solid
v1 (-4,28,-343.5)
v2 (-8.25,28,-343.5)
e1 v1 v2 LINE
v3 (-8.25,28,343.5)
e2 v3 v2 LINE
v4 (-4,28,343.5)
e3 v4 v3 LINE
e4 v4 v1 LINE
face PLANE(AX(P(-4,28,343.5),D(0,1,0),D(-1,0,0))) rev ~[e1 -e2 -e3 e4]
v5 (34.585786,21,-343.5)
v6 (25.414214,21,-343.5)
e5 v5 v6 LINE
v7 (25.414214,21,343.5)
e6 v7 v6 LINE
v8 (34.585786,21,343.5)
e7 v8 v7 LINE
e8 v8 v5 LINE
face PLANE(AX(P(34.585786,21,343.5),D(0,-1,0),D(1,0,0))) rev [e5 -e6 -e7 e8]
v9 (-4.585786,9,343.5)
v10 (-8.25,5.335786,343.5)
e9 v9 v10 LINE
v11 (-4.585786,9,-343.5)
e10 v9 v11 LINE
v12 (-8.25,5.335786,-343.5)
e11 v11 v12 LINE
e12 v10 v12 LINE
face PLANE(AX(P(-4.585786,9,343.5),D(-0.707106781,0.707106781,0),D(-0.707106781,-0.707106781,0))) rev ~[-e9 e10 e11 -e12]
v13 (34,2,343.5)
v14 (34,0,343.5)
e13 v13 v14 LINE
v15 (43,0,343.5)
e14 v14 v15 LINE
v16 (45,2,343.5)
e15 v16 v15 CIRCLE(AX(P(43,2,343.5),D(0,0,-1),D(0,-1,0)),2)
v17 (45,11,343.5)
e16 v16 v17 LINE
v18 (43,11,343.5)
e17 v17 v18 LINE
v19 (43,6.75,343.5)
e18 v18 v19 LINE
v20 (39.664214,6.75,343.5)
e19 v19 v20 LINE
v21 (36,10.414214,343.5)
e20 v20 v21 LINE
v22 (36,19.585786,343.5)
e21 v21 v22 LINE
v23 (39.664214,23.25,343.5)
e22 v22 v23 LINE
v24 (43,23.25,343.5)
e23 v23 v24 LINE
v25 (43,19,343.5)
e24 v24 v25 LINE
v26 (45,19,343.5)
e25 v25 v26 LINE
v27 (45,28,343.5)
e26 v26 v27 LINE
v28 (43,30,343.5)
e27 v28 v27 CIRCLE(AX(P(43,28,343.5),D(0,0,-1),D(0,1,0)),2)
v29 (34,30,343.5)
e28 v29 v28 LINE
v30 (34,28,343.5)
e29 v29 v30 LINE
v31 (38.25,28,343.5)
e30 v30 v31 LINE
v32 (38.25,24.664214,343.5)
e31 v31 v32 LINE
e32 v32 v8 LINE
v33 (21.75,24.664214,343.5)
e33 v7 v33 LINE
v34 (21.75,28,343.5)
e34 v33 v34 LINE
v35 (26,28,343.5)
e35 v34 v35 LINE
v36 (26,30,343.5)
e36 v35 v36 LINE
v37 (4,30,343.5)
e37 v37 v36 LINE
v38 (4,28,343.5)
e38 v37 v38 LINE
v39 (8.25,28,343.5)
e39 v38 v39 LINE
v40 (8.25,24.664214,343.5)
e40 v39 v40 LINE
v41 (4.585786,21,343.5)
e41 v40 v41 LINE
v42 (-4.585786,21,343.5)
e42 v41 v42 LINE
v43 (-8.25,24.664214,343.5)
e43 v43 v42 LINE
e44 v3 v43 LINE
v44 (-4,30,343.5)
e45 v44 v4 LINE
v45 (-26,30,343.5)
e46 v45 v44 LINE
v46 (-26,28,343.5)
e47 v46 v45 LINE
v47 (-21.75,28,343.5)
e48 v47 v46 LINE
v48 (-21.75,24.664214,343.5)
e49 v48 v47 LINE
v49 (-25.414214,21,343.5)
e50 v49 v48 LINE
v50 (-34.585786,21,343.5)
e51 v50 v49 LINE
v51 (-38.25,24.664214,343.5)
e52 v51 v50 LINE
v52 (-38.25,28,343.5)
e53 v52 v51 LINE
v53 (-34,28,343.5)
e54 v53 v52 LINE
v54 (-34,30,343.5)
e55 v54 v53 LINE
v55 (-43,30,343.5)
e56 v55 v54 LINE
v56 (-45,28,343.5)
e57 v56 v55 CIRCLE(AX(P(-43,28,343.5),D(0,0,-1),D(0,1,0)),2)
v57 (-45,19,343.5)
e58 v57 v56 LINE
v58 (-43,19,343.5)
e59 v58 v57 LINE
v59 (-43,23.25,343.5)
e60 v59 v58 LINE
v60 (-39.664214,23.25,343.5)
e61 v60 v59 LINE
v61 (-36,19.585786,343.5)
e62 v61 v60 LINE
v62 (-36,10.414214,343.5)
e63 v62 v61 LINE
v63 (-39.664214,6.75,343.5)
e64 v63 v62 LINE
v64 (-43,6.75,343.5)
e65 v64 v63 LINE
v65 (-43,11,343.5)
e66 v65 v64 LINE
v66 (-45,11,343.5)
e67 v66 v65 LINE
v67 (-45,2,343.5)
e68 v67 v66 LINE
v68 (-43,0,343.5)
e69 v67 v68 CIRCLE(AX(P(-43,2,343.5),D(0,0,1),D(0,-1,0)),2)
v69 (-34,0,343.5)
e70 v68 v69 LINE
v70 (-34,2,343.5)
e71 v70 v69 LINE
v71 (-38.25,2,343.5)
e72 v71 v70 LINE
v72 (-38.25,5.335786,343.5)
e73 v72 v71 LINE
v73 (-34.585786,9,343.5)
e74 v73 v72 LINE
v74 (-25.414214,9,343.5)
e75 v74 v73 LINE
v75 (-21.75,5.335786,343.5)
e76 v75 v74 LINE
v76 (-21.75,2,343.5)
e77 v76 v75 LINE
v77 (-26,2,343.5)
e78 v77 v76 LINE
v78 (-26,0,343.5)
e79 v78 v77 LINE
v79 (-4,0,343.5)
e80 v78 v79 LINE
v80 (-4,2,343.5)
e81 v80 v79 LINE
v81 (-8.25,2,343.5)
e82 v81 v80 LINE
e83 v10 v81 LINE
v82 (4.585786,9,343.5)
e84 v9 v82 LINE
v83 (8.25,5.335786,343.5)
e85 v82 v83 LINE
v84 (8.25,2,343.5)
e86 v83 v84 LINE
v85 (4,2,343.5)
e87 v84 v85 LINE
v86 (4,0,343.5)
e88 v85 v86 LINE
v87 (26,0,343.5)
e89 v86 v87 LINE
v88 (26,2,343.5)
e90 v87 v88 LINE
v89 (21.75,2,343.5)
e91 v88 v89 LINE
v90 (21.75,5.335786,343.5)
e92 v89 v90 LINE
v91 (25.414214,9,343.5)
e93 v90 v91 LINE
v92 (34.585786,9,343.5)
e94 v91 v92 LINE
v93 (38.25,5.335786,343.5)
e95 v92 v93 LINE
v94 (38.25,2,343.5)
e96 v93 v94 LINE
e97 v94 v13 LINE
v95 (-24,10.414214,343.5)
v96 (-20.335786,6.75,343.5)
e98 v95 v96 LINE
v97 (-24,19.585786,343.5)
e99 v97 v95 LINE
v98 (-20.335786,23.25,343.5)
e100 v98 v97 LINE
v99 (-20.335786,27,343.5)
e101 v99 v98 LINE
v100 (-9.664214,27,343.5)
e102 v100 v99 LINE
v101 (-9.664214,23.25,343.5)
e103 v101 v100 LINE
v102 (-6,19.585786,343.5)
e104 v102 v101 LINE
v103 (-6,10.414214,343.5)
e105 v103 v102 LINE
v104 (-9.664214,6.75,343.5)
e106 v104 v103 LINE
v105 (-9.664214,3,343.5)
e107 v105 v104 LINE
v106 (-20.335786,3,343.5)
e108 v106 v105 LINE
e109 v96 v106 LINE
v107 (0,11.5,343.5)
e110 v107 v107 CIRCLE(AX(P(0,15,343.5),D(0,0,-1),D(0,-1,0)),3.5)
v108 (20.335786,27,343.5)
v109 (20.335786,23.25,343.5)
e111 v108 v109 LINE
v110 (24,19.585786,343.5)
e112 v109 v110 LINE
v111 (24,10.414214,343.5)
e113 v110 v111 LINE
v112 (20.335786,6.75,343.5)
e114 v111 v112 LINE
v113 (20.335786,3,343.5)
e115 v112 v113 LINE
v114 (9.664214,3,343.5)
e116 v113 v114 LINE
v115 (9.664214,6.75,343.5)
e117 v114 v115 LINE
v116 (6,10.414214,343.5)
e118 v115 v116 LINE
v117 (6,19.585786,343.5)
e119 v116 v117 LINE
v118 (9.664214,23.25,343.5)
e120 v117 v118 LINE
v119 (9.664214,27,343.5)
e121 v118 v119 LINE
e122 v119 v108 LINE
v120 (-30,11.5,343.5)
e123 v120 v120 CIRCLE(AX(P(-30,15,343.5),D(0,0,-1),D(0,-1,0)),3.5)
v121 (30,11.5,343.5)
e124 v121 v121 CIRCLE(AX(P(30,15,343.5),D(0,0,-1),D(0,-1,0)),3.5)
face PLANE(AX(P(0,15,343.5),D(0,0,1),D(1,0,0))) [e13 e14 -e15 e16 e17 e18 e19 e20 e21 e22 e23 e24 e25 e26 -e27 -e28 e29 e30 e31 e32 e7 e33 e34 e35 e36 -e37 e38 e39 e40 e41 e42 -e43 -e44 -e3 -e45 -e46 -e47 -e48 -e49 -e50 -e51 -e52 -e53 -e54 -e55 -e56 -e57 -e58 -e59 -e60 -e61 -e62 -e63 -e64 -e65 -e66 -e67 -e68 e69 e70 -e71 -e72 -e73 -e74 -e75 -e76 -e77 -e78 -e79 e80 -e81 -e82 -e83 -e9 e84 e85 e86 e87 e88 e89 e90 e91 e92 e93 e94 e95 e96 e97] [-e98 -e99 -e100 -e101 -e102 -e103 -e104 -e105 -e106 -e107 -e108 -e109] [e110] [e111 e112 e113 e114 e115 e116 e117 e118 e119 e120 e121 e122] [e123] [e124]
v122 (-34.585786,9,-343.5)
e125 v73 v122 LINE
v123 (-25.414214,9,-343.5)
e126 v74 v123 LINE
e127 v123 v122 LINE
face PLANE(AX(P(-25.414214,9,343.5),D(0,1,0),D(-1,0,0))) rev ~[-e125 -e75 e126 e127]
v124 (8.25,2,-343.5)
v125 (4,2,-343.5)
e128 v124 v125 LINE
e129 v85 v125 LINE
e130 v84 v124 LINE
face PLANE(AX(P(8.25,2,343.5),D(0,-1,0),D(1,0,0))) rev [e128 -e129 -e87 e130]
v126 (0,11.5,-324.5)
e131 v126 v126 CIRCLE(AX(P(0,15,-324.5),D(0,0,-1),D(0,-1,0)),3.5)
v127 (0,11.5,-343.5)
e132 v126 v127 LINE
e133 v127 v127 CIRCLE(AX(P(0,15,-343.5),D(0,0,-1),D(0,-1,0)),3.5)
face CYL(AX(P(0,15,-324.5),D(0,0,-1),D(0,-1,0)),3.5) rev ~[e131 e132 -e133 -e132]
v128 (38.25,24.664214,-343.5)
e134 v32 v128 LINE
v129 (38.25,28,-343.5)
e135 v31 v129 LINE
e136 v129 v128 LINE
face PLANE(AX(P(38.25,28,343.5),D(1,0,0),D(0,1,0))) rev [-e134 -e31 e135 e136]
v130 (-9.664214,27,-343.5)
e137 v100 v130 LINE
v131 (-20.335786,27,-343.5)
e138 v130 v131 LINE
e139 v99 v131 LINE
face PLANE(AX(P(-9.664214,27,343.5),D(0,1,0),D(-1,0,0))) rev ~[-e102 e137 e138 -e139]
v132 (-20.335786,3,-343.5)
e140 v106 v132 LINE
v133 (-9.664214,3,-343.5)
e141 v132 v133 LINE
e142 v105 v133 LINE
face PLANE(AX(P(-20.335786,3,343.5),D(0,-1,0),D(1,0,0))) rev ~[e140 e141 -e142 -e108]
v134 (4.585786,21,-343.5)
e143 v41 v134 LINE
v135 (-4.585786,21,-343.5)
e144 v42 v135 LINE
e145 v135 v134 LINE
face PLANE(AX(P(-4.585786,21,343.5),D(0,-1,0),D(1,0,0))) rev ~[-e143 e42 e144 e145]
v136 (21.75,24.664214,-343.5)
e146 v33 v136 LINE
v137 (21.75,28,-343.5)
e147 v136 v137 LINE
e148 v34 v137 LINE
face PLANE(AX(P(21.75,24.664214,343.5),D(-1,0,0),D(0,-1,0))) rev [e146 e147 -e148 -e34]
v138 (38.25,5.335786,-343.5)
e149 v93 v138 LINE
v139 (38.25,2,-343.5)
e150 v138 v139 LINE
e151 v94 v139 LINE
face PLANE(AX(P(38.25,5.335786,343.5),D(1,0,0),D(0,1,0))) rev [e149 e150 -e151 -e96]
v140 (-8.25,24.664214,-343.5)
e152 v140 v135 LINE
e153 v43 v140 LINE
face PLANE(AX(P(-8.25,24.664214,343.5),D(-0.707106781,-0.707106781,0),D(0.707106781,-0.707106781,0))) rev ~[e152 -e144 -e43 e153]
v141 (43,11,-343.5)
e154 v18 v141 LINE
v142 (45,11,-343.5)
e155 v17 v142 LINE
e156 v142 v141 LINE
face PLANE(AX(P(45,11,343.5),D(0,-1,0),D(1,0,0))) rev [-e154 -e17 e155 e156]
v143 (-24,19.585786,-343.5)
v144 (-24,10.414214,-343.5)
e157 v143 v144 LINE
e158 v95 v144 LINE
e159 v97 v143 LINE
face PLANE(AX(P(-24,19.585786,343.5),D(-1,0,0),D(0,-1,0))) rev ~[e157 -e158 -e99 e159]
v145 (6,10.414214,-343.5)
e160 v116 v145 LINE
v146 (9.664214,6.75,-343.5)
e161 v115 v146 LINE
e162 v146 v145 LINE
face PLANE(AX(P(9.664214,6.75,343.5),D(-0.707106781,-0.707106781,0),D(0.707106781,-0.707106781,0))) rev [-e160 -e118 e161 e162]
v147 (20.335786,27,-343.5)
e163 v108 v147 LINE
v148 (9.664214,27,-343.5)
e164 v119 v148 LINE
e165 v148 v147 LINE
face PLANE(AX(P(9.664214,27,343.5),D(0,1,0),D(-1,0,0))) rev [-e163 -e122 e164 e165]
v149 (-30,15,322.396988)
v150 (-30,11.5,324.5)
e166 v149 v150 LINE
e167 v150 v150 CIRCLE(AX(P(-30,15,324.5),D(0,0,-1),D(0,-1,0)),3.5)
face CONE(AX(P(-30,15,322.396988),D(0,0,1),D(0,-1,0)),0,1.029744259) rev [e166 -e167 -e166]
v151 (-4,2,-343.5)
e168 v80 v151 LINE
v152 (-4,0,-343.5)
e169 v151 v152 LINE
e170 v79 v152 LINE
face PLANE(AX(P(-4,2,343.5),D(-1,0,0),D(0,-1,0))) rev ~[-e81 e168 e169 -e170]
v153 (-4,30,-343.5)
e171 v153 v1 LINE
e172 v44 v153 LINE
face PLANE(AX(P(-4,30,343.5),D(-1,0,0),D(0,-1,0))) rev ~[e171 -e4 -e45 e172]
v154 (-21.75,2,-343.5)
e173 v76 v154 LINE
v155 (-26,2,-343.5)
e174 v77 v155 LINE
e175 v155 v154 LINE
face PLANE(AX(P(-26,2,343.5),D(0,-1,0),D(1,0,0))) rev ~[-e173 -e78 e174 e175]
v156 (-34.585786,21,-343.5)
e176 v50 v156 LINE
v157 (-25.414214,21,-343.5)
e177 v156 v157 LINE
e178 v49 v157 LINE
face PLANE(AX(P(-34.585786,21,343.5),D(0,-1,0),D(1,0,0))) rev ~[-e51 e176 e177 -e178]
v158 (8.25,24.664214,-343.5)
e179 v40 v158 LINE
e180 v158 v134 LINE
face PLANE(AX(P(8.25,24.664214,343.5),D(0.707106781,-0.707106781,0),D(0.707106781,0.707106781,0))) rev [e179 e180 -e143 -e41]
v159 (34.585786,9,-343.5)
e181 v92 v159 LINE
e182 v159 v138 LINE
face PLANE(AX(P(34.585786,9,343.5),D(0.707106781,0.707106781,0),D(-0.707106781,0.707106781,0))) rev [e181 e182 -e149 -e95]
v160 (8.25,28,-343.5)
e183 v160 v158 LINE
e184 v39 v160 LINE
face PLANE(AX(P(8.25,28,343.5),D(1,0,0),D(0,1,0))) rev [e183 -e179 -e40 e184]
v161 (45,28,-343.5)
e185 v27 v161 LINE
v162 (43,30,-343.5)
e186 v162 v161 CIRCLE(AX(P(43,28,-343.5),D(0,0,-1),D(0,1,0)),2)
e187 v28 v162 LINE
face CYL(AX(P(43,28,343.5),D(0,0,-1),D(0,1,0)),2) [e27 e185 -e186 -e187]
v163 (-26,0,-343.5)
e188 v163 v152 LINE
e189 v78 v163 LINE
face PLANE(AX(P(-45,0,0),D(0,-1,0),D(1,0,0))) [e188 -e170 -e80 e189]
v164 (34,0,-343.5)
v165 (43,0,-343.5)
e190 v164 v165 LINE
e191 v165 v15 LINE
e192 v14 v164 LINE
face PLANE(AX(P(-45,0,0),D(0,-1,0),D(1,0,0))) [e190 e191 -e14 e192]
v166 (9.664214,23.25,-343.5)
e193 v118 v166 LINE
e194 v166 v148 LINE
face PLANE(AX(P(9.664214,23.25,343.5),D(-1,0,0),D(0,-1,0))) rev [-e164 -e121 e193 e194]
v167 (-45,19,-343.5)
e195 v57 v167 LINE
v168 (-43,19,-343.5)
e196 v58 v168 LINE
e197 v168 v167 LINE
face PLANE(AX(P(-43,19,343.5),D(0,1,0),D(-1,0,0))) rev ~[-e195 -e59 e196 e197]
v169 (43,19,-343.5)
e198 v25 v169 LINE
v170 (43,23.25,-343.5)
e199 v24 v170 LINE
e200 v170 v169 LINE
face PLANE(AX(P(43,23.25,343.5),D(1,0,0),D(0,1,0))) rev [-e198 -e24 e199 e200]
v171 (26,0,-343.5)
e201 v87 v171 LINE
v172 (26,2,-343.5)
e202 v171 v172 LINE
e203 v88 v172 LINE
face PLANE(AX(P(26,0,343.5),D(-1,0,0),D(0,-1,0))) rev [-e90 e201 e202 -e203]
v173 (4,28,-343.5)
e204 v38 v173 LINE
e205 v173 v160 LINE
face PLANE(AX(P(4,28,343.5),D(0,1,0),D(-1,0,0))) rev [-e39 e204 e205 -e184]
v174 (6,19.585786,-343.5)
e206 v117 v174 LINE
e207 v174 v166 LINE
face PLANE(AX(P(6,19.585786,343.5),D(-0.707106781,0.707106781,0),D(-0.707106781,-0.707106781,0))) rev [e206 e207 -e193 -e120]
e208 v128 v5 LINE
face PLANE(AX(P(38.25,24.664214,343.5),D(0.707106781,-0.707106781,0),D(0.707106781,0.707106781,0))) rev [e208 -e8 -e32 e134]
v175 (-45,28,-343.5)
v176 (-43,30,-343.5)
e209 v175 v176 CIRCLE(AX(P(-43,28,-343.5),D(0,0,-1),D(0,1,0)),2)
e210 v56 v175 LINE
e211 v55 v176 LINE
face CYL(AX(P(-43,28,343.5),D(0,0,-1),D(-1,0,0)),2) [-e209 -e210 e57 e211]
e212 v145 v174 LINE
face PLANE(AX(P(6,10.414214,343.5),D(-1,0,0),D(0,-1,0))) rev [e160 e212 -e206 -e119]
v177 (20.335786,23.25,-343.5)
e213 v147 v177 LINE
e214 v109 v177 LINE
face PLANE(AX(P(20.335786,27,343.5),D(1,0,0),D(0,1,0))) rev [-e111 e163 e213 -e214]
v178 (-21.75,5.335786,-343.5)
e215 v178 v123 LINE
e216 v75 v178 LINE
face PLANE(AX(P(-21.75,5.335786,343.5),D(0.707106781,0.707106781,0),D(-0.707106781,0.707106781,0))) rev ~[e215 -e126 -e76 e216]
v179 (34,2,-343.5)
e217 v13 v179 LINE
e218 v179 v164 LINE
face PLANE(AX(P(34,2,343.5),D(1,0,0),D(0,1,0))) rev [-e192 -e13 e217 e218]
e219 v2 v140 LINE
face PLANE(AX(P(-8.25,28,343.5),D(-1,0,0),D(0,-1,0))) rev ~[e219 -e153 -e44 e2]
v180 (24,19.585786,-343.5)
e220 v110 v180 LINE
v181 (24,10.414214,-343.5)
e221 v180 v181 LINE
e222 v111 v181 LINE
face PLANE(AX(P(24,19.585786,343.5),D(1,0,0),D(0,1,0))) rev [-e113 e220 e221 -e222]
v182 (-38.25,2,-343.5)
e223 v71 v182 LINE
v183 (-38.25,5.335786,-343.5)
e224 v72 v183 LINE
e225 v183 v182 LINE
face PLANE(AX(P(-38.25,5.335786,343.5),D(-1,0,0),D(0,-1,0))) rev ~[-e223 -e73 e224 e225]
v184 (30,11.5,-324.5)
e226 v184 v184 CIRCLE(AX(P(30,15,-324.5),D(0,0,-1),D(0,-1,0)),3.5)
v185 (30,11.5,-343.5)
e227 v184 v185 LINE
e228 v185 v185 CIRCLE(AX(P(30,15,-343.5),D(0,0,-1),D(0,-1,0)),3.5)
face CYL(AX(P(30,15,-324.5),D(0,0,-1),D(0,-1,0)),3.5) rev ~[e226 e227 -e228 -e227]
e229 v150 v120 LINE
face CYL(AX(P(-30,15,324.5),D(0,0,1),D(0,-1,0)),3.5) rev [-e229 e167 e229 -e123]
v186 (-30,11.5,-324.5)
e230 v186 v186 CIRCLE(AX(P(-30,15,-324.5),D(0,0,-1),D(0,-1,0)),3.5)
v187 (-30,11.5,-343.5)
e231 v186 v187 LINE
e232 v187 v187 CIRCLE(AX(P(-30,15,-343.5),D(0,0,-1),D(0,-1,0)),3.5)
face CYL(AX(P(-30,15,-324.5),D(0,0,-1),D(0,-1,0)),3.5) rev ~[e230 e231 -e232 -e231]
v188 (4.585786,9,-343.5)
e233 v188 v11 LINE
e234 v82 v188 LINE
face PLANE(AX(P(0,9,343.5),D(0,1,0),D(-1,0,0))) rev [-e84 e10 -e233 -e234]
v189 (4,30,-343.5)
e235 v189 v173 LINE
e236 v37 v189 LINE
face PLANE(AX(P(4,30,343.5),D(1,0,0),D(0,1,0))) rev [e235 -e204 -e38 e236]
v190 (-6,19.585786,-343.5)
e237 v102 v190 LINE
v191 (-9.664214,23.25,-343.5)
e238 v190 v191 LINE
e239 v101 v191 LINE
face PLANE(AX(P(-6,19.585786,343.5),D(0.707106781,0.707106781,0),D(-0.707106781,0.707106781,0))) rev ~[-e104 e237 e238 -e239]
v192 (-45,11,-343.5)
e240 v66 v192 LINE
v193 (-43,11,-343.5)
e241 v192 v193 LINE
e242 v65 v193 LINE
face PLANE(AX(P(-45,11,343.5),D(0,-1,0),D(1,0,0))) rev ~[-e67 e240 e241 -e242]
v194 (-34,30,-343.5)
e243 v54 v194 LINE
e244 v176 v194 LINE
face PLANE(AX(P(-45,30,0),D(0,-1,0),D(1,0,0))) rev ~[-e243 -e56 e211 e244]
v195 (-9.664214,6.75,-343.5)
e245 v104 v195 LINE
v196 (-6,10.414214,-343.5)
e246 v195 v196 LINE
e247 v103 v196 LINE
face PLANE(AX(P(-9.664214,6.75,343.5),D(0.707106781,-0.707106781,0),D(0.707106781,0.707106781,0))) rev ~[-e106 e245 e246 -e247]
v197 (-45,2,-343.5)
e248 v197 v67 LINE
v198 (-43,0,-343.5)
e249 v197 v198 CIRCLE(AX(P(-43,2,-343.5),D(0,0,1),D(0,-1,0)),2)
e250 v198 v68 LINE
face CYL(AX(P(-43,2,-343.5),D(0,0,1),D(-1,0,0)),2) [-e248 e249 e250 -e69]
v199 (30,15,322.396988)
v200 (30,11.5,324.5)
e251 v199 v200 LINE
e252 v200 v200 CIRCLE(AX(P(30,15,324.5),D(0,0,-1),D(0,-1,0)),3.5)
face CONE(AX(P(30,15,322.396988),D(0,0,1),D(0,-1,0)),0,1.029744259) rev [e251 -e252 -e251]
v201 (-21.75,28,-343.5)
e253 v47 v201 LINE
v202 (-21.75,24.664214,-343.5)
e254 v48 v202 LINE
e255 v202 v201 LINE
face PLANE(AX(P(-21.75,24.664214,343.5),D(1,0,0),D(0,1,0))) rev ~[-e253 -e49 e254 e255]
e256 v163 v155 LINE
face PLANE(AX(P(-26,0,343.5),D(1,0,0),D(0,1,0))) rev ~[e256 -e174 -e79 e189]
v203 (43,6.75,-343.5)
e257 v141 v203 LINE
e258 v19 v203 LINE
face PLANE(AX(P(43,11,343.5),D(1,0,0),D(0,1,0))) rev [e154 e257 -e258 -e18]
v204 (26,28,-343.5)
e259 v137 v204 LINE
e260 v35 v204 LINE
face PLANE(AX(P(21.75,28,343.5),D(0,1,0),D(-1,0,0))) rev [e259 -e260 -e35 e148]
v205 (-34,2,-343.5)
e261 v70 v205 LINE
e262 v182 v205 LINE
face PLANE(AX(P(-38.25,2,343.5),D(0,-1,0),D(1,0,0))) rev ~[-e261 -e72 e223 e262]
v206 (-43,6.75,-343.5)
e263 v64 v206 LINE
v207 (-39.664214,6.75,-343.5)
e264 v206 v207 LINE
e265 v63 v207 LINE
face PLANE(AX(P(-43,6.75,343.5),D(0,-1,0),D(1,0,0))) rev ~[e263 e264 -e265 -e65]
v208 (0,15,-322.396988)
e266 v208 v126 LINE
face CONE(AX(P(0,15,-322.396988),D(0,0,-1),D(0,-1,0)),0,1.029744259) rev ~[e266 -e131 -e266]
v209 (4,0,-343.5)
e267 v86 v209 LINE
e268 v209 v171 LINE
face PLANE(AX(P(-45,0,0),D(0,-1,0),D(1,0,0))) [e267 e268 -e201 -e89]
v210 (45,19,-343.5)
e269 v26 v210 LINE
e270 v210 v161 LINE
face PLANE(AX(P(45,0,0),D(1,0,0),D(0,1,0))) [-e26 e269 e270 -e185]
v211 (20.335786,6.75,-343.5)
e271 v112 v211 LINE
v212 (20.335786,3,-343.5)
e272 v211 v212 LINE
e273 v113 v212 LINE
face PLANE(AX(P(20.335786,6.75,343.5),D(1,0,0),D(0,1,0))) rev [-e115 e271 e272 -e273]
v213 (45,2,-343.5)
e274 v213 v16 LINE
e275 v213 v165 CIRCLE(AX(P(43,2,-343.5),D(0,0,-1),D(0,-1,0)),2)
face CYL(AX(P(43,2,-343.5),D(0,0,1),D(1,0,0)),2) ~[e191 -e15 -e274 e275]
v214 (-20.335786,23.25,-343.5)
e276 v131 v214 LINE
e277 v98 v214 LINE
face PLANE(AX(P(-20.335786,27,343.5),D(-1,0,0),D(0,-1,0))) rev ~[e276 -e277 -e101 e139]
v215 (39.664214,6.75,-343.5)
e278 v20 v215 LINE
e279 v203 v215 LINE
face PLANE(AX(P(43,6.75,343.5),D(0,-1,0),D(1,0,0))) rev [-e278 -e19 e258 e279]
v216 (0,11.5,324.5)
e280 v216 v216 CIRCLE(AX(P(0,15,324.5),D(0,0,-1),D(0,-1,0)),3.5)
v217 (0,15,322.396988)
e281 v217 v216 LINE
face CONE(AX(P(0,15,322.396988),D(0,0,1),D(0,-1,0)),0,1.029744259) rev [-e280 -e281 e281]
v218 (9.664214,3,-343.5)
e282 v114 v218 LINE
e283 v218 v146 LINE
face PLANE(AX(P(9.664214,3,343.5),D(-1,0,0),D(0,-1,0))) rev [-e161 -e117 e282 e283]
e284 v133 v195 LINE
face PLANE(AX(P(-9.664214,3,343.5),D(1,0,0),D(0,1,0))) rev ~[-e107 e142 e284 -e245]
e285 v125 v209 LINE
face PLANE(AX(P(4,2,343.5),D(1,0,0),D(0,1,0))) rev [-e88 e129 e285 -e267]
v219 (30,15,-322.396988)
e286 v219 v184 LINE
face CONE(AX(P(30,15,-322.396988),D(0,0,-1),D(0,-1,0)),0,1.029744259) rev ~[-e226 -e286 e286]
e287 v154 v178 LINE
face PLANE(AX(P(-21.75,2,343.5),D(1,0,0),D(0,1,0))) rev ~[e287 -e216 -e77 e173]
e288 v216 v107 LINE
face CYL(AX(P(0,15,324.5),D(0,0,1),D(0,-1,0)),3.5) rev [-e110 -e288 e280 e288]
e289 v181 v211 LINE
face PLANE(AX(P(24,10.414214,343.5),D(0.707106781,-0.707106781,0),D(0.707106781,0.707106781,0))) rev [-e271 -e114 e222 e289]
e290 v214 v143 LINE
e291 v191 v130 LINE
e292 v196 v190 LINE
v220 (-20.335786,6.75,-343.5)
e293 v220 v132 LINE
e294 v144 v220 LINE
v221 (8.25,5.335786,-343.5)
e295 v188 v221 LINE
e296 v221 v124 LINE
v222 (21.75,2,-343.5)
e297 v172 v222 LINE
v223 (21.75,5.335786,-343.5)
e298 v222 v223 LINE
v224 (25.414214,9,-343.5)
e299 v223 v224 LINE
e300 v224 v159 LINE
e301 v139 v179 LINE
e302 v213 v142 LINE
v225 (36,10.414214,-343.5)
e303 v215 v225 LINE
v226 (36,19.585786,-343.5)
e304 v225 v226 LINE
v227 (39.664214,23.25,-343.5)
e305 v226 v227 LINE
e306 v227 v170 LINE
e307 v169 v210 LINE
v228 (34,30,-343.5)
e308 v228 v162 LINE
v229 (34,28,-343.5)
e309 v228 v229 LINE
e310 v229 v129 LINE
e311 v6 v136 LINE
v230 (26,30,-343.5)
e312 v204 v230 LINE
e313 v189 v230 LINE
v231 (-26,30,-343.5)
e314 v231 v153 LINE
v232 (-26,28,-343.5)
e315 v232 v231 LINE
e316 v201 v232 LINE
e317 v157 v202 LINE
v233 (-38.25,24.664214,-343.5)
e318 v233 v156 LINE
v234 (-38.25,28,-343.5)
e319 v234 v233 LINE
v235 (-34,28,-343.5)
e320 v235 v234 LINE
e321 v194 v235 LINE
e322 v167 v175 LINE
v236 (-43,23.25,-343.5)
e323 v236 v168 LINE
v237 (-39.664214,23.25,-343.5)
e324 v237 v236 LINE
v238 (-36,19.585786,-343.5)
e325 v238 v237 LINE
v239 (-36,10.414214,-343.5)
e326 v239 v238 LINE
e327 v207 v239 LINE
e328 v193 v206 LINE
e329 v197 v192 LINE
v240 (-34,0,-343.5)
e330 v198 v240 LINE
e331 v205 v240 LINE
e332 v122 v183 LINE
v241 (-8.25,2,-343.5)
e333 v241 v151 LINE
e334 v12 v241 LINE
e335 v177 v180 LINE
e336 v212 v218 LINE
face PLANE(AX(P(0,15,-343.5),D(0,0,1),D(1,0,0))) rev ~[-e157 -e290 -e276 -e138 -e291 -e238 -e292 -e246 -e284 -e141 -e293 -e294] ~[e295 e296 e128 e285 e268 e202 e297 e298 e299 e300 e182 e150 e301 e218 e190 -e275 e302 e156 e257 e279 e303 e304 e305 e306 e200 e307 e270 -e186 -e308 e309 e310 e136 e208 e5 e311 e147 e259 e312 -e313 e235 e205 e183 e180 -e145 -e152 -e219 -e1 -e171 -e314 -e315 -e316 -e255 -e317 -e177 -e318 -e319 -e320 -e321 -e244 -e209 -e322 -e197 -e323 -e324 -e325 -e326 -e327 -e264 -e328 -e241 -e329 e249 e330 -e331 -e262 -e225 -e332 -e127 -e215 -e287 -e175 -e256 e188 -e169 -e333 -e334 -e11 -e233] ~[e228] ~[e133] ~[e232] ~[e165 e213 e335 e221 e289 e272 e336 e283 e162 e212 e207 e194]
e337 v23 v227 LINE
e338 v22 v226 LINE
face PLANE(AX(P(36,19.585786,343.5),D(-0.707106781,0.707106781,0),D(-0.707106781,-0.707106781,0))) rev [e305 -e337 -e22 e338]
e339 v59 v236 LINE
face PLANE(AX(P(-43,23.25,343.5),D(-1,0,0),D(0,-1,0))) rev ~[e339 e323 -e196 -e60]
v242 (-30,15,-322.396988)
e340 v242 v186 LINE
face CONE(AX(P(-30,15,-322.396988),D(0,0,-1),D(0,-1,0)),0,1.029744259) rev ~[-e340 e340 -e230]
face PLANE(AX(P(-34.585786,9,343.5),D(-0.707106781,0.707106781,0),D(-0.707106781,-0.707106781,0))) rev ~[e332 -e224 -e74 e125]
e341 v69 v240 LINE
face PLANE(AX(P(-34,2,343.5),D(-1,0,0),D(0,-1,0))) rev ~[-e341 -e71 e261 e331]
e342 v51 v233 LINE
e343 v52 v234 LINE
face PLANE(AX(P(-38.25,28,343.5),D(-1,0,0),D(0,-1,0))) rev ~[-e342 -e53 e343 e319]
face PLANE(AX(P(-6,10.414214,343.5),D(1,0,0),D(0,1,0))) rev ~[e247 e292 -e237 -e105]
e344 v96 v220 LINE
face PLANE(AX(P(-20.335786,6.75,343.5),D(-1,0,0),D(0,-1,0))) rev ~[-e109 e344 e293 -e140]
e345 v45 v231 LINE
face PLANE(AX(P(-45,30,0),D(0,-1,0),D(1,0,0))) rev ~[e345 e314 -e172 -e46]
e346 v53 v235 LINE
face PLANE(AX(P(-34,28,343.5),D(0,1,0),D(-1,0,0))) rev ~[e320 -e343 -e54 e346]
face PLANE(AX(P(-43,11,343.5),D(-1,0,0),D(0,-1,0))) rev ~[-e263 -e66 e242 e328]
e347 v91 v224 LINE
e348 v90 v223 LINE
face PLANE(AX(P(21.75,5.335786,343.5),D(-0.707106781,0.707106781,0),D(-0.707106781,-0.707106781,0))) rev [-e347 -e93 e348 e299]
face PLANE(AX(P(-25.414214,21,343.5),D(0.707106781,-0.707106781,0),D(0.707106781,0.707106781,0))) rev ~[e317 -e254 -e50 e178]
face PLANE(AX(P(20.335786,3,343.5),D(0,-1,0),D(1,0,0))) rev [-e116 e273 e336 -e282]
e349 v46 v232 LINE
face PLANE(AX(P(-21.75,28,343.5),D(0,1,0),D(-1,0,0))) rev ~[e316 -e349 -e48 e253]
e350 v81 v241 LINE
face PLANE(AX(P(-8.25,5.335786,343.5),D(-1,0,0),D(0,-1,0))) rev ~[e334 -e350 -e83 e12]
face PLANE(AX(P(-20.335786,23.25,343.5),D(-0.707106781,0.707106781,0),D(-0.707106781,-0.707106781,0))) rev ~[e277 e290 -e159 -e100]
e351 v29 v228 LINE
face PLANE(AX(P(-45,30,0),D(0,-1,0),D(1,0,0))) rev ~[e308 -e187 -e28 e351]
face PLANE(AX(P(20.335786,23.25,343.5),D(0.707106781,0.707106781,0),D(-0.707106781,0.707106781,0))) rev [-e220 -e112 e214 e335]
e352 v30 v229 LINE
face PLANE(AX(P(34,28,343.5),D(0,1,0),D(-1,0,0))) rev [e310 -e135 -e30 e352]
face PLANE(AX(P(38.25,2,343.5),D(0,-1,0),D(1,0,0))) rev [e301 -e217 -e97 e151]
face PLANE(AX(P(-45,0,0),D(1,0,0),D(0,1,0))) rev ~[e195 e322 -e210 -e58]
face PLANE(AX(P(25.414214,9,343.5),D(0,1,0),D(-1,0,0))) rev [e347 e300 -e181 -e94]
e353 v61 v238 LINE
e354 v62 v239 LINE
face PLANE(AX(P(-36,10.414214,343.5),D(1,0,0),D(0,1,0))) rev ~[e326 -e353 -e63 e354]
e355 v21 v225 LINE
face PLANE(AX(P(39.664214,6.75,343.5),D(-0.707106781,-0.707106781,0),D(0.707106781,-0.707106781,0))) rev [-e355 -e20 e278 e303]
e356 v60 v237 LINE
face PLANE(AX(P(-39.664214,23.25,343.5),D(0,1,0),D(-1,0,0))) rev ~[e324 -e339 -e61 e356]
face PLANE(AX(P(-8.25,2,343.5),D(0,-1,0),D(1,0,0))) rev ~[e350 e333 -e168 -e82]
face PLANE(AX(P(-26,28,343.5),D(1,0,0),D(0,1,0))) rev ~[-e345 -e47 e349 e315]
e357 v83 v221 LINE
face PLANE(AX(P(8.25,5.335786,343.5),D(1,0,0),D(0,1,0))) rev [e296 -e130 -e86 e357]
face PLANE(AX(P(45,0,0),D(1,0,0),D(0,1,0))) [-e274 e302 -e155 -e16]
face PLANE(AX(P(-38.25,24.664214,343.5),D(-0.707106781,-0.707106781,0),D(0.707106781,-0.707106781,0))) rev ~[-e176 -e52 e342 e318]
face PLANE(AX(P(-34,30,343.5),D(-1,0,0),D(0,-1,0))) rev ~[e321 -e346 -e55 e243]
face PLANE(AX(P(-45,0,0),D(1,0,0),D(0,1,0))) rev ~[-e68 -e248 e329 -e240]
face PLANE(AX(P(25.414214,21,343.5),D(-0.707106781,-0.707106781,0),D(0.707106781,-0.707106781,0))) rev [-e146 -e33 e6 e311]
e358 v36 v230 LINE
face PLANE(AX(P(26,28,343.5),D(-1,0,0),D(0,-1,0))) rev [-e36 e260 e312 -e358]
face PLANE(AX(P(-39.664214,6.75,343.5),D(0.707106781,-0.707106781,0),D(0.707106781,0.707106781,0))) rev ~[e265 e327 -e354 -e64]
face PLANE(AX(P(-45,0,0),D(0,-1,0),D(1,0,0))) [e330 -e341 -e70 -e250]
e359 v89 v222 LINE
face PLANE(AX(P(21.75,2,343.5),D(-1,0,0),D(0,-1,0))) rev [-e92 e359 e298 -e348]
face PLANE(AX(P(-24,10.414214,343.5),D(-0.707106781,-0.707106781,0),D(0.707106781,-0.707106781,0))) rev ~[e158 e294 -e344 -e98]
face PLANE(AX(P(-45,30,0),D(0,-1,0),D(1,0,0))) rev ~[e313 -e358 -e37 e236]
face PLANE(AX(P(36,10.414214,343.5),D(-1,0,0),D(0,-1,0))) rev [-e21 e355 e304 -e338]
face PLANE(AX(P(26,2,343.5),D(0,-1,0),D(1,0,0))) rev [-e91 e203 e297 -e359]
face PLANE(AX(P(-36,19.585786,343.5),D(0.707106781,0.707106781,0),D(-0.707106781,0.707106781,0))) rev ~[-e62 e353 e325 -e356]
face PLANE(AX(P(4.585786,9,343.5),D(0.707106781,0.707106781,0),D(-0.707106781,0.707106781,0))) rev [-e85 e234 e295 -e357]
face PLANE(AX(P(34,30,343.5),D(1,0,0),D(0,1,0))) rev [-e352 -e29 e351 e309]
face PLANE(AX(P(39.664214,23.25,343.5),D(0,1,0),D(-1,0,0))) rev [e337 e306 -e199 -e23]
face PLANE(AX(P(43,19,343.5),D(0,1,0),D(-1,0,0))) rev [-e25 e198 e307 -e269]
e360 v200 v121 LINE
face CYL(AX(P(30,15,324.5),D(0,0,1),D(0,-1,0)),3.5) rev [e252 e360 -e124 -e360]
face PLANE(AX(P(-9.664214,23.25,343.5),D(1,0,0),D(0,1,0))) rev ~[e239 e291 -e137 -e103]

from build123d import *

# Parameters (mm, degrees)
SKETCH1_W                      = 90
SKETCH1_H                      = 30
BOSS_EXTRUDE1_DEPTH            = 343.5
M8X1_0_TAPPED_HOLE1_AT_2_COUNT = 2
M8X1_0_TAPPED_HOLE1_AT_2_PITCH = 60
M8X1_0_TAPPED_HOLE1_AT_3_COUNT = 2
M8X1_0_TAPPED_HOLE1_AT_3_PITCH = 30
CUT_EXTRUDE1_DEPTH             = 690.125532831
FILLET1_R                      = 2


with BuildPart() as part:
    # Sketch1 → Boss-Extrude1 (new, symmetric)
    with BuildSketch(Plane.XY):
        with Locations((0, 15)):
            Rectangle(SKETCH1_W, SKETCH1_H)
    extrude(amount=BOSS_EXTRUDE1_DEPTH, both=True)

    # Sketch3 → M8x1.0 Tapped Hole1 (revolve, cut)
    with BuildSketch(Plane(origin=(30, 15, 343.5), x_dir=(0, -1, 0), z_dir=(1, 0, 0))):
        Polygon((0, 0), (0, 21.103012167), (3.5, 19), (3.5, 0), align=None)
    m8x1_0_tapped_hole1 = revolve(axis=Axis((30, 15, 349.85), (0, 0, -1)), mode=Mode.SUBTRACT)

    # M8x1.0 Tapped Hole1 at 2: M8x1.0 Tapped Hole1 ×2
    with Locations(*[(-i * M8X1_0_TAPPED_HOLE1_AT_2_PITCH, 0, 0) for i in range(1, M8X1_0_TAPPED_HOLE1_AT_2_COUNT)]):
        add(m8x1_0_tapped_hole1, mode=Mode.SUBTRACT)

    # M8x1.0 Tapped Hole1 at 3: M8x1.0 Tapped Hole1 ×2
    with Locations(*[(-i * M8X1_0_TAPPED_HOLE1_AT_3_PITCH, 0, 0) for i in range(1, M8X1_0_TAPPED_HOLE1_AT_3_COUNT)]):
        add(m8x1_0_tapped_hole1, mode=Mode.SUBTRACT)

    # Mirror1: M8x1.0 Tapped Hole1 across plane
    add(m8x1_0_tapped_hole1.mirror(Plane.XY), mode=Mode.SUBTRACT)

    # Mirror1 copy 1 sketch → Mirror1 copy 1 (revolve, cut)
    with BuildSketch(Plane(origin=(-30, 15, -343.5), x_dir=(0, -1, 0), z_dir=(1, 0, 0))):
        Polygon((0, 0), (0, -21.103012167), (3.5, -19), (3.5, 0), align=None)
    revolve(axis=Axis((-30, 15, -349.85), (0, 0, -1)), mode=Mode.SUBTRACT)

    # Mirror1 copy 2 sketch → Mirror1 copy 2 (revolve, cut)
    with BuildSketch(Plane(origin=(0, 15, -343.5), x_dir=(0, -1, 0), z_dir=(1, 0, 0))):
        Polygon((0, 0), (0, -21.103012167), (3.5, -19), (3.5, 0), align=None)
    revolve(axis=Axis((0, 15, -349.85), (0, 0, -1)), mode=Mode.SUBTRACT)

    # Sketch4 → Cut-Extrude1 (cut, through all)
    with BuildSketch(Plane.XY.offset(343.5)):
        Polygon((-4, 2), (-4, 0), (0, 0), (0, 9), (-4.585786438, 9), (-8.25, 5.335786438), (-8.25, 2), align=None)
        Polygon((0, 30), (-4, 30), (-4, 28), (-8.25, 28), (-8.25, 24.664213562), (-4.585786438, 21), (0, 21), align=None)
        Polygon((-34, 2), (-34, 0), (-30, 0), (-26, 0), (-26, 2), (-21.75, 2), (-21.75, 5.335786438), (-25.414213562, 9), (-34.585786438, 9), (-38.25, 5.335786438), (-38.25, 2), align=None)
        Polygon((-20.335786438, 3), (-9.664213562, 3), (-9.664213562, 6.75), (-6, 10.414213562), (-6, 19.585786438), (-9.664213562, 23.25), (-9.664213562, 27), (-20.335786438, 27), (-20.335786438, 23.25), (-24, 19.585786438), (-24, 10.414213562), (-20.335786438, 6.75), align=None)
        Polygon((-30, 30), (-34, 30), (-34, 28), (-38.25, 28), (-38.25, 24.664213562), (-34.585786438, 21), (-25.414213562, 21), (-21.75, 24.664213562), (-21.75, 28), (-26, 28), (-26, 30), align=None)
        Polygon((-43, 19), (-45, 19), (-45, 15), (-45, 11), (-43, 11), (-43, 6.75), (-39.664213562, 6.75), (-36, 10.414213562), (-36, 19.585786438), (-39.664213562, 23.25), (-43, 23.25), align=None)
    cut_extrude1 = extrude(amount=-CUT_EXTRUDE1_DEPTH, mode=Mode.SUBTRACT)

    # Mirror2: Cut-Extrude1 across plane
    add(cut_extrude1.mirror(Plane(origin=(0, 0, 0), x_dir=(0, 0, 1), z_dir=(1, 0, 0))), mode=Mode.SUBTRACT)

    # Fillet1
    fillet1_edges = [part.edges().sort_by_distance(p)[0] for p in [
        (-45, 30, 0),
        (45, 30, 0),
        (45, 0, 0),
        (-45, 0, 0),
    ]]
    fillet(fillet1_edges, radius=FILLET1_R)


solid = part.part
